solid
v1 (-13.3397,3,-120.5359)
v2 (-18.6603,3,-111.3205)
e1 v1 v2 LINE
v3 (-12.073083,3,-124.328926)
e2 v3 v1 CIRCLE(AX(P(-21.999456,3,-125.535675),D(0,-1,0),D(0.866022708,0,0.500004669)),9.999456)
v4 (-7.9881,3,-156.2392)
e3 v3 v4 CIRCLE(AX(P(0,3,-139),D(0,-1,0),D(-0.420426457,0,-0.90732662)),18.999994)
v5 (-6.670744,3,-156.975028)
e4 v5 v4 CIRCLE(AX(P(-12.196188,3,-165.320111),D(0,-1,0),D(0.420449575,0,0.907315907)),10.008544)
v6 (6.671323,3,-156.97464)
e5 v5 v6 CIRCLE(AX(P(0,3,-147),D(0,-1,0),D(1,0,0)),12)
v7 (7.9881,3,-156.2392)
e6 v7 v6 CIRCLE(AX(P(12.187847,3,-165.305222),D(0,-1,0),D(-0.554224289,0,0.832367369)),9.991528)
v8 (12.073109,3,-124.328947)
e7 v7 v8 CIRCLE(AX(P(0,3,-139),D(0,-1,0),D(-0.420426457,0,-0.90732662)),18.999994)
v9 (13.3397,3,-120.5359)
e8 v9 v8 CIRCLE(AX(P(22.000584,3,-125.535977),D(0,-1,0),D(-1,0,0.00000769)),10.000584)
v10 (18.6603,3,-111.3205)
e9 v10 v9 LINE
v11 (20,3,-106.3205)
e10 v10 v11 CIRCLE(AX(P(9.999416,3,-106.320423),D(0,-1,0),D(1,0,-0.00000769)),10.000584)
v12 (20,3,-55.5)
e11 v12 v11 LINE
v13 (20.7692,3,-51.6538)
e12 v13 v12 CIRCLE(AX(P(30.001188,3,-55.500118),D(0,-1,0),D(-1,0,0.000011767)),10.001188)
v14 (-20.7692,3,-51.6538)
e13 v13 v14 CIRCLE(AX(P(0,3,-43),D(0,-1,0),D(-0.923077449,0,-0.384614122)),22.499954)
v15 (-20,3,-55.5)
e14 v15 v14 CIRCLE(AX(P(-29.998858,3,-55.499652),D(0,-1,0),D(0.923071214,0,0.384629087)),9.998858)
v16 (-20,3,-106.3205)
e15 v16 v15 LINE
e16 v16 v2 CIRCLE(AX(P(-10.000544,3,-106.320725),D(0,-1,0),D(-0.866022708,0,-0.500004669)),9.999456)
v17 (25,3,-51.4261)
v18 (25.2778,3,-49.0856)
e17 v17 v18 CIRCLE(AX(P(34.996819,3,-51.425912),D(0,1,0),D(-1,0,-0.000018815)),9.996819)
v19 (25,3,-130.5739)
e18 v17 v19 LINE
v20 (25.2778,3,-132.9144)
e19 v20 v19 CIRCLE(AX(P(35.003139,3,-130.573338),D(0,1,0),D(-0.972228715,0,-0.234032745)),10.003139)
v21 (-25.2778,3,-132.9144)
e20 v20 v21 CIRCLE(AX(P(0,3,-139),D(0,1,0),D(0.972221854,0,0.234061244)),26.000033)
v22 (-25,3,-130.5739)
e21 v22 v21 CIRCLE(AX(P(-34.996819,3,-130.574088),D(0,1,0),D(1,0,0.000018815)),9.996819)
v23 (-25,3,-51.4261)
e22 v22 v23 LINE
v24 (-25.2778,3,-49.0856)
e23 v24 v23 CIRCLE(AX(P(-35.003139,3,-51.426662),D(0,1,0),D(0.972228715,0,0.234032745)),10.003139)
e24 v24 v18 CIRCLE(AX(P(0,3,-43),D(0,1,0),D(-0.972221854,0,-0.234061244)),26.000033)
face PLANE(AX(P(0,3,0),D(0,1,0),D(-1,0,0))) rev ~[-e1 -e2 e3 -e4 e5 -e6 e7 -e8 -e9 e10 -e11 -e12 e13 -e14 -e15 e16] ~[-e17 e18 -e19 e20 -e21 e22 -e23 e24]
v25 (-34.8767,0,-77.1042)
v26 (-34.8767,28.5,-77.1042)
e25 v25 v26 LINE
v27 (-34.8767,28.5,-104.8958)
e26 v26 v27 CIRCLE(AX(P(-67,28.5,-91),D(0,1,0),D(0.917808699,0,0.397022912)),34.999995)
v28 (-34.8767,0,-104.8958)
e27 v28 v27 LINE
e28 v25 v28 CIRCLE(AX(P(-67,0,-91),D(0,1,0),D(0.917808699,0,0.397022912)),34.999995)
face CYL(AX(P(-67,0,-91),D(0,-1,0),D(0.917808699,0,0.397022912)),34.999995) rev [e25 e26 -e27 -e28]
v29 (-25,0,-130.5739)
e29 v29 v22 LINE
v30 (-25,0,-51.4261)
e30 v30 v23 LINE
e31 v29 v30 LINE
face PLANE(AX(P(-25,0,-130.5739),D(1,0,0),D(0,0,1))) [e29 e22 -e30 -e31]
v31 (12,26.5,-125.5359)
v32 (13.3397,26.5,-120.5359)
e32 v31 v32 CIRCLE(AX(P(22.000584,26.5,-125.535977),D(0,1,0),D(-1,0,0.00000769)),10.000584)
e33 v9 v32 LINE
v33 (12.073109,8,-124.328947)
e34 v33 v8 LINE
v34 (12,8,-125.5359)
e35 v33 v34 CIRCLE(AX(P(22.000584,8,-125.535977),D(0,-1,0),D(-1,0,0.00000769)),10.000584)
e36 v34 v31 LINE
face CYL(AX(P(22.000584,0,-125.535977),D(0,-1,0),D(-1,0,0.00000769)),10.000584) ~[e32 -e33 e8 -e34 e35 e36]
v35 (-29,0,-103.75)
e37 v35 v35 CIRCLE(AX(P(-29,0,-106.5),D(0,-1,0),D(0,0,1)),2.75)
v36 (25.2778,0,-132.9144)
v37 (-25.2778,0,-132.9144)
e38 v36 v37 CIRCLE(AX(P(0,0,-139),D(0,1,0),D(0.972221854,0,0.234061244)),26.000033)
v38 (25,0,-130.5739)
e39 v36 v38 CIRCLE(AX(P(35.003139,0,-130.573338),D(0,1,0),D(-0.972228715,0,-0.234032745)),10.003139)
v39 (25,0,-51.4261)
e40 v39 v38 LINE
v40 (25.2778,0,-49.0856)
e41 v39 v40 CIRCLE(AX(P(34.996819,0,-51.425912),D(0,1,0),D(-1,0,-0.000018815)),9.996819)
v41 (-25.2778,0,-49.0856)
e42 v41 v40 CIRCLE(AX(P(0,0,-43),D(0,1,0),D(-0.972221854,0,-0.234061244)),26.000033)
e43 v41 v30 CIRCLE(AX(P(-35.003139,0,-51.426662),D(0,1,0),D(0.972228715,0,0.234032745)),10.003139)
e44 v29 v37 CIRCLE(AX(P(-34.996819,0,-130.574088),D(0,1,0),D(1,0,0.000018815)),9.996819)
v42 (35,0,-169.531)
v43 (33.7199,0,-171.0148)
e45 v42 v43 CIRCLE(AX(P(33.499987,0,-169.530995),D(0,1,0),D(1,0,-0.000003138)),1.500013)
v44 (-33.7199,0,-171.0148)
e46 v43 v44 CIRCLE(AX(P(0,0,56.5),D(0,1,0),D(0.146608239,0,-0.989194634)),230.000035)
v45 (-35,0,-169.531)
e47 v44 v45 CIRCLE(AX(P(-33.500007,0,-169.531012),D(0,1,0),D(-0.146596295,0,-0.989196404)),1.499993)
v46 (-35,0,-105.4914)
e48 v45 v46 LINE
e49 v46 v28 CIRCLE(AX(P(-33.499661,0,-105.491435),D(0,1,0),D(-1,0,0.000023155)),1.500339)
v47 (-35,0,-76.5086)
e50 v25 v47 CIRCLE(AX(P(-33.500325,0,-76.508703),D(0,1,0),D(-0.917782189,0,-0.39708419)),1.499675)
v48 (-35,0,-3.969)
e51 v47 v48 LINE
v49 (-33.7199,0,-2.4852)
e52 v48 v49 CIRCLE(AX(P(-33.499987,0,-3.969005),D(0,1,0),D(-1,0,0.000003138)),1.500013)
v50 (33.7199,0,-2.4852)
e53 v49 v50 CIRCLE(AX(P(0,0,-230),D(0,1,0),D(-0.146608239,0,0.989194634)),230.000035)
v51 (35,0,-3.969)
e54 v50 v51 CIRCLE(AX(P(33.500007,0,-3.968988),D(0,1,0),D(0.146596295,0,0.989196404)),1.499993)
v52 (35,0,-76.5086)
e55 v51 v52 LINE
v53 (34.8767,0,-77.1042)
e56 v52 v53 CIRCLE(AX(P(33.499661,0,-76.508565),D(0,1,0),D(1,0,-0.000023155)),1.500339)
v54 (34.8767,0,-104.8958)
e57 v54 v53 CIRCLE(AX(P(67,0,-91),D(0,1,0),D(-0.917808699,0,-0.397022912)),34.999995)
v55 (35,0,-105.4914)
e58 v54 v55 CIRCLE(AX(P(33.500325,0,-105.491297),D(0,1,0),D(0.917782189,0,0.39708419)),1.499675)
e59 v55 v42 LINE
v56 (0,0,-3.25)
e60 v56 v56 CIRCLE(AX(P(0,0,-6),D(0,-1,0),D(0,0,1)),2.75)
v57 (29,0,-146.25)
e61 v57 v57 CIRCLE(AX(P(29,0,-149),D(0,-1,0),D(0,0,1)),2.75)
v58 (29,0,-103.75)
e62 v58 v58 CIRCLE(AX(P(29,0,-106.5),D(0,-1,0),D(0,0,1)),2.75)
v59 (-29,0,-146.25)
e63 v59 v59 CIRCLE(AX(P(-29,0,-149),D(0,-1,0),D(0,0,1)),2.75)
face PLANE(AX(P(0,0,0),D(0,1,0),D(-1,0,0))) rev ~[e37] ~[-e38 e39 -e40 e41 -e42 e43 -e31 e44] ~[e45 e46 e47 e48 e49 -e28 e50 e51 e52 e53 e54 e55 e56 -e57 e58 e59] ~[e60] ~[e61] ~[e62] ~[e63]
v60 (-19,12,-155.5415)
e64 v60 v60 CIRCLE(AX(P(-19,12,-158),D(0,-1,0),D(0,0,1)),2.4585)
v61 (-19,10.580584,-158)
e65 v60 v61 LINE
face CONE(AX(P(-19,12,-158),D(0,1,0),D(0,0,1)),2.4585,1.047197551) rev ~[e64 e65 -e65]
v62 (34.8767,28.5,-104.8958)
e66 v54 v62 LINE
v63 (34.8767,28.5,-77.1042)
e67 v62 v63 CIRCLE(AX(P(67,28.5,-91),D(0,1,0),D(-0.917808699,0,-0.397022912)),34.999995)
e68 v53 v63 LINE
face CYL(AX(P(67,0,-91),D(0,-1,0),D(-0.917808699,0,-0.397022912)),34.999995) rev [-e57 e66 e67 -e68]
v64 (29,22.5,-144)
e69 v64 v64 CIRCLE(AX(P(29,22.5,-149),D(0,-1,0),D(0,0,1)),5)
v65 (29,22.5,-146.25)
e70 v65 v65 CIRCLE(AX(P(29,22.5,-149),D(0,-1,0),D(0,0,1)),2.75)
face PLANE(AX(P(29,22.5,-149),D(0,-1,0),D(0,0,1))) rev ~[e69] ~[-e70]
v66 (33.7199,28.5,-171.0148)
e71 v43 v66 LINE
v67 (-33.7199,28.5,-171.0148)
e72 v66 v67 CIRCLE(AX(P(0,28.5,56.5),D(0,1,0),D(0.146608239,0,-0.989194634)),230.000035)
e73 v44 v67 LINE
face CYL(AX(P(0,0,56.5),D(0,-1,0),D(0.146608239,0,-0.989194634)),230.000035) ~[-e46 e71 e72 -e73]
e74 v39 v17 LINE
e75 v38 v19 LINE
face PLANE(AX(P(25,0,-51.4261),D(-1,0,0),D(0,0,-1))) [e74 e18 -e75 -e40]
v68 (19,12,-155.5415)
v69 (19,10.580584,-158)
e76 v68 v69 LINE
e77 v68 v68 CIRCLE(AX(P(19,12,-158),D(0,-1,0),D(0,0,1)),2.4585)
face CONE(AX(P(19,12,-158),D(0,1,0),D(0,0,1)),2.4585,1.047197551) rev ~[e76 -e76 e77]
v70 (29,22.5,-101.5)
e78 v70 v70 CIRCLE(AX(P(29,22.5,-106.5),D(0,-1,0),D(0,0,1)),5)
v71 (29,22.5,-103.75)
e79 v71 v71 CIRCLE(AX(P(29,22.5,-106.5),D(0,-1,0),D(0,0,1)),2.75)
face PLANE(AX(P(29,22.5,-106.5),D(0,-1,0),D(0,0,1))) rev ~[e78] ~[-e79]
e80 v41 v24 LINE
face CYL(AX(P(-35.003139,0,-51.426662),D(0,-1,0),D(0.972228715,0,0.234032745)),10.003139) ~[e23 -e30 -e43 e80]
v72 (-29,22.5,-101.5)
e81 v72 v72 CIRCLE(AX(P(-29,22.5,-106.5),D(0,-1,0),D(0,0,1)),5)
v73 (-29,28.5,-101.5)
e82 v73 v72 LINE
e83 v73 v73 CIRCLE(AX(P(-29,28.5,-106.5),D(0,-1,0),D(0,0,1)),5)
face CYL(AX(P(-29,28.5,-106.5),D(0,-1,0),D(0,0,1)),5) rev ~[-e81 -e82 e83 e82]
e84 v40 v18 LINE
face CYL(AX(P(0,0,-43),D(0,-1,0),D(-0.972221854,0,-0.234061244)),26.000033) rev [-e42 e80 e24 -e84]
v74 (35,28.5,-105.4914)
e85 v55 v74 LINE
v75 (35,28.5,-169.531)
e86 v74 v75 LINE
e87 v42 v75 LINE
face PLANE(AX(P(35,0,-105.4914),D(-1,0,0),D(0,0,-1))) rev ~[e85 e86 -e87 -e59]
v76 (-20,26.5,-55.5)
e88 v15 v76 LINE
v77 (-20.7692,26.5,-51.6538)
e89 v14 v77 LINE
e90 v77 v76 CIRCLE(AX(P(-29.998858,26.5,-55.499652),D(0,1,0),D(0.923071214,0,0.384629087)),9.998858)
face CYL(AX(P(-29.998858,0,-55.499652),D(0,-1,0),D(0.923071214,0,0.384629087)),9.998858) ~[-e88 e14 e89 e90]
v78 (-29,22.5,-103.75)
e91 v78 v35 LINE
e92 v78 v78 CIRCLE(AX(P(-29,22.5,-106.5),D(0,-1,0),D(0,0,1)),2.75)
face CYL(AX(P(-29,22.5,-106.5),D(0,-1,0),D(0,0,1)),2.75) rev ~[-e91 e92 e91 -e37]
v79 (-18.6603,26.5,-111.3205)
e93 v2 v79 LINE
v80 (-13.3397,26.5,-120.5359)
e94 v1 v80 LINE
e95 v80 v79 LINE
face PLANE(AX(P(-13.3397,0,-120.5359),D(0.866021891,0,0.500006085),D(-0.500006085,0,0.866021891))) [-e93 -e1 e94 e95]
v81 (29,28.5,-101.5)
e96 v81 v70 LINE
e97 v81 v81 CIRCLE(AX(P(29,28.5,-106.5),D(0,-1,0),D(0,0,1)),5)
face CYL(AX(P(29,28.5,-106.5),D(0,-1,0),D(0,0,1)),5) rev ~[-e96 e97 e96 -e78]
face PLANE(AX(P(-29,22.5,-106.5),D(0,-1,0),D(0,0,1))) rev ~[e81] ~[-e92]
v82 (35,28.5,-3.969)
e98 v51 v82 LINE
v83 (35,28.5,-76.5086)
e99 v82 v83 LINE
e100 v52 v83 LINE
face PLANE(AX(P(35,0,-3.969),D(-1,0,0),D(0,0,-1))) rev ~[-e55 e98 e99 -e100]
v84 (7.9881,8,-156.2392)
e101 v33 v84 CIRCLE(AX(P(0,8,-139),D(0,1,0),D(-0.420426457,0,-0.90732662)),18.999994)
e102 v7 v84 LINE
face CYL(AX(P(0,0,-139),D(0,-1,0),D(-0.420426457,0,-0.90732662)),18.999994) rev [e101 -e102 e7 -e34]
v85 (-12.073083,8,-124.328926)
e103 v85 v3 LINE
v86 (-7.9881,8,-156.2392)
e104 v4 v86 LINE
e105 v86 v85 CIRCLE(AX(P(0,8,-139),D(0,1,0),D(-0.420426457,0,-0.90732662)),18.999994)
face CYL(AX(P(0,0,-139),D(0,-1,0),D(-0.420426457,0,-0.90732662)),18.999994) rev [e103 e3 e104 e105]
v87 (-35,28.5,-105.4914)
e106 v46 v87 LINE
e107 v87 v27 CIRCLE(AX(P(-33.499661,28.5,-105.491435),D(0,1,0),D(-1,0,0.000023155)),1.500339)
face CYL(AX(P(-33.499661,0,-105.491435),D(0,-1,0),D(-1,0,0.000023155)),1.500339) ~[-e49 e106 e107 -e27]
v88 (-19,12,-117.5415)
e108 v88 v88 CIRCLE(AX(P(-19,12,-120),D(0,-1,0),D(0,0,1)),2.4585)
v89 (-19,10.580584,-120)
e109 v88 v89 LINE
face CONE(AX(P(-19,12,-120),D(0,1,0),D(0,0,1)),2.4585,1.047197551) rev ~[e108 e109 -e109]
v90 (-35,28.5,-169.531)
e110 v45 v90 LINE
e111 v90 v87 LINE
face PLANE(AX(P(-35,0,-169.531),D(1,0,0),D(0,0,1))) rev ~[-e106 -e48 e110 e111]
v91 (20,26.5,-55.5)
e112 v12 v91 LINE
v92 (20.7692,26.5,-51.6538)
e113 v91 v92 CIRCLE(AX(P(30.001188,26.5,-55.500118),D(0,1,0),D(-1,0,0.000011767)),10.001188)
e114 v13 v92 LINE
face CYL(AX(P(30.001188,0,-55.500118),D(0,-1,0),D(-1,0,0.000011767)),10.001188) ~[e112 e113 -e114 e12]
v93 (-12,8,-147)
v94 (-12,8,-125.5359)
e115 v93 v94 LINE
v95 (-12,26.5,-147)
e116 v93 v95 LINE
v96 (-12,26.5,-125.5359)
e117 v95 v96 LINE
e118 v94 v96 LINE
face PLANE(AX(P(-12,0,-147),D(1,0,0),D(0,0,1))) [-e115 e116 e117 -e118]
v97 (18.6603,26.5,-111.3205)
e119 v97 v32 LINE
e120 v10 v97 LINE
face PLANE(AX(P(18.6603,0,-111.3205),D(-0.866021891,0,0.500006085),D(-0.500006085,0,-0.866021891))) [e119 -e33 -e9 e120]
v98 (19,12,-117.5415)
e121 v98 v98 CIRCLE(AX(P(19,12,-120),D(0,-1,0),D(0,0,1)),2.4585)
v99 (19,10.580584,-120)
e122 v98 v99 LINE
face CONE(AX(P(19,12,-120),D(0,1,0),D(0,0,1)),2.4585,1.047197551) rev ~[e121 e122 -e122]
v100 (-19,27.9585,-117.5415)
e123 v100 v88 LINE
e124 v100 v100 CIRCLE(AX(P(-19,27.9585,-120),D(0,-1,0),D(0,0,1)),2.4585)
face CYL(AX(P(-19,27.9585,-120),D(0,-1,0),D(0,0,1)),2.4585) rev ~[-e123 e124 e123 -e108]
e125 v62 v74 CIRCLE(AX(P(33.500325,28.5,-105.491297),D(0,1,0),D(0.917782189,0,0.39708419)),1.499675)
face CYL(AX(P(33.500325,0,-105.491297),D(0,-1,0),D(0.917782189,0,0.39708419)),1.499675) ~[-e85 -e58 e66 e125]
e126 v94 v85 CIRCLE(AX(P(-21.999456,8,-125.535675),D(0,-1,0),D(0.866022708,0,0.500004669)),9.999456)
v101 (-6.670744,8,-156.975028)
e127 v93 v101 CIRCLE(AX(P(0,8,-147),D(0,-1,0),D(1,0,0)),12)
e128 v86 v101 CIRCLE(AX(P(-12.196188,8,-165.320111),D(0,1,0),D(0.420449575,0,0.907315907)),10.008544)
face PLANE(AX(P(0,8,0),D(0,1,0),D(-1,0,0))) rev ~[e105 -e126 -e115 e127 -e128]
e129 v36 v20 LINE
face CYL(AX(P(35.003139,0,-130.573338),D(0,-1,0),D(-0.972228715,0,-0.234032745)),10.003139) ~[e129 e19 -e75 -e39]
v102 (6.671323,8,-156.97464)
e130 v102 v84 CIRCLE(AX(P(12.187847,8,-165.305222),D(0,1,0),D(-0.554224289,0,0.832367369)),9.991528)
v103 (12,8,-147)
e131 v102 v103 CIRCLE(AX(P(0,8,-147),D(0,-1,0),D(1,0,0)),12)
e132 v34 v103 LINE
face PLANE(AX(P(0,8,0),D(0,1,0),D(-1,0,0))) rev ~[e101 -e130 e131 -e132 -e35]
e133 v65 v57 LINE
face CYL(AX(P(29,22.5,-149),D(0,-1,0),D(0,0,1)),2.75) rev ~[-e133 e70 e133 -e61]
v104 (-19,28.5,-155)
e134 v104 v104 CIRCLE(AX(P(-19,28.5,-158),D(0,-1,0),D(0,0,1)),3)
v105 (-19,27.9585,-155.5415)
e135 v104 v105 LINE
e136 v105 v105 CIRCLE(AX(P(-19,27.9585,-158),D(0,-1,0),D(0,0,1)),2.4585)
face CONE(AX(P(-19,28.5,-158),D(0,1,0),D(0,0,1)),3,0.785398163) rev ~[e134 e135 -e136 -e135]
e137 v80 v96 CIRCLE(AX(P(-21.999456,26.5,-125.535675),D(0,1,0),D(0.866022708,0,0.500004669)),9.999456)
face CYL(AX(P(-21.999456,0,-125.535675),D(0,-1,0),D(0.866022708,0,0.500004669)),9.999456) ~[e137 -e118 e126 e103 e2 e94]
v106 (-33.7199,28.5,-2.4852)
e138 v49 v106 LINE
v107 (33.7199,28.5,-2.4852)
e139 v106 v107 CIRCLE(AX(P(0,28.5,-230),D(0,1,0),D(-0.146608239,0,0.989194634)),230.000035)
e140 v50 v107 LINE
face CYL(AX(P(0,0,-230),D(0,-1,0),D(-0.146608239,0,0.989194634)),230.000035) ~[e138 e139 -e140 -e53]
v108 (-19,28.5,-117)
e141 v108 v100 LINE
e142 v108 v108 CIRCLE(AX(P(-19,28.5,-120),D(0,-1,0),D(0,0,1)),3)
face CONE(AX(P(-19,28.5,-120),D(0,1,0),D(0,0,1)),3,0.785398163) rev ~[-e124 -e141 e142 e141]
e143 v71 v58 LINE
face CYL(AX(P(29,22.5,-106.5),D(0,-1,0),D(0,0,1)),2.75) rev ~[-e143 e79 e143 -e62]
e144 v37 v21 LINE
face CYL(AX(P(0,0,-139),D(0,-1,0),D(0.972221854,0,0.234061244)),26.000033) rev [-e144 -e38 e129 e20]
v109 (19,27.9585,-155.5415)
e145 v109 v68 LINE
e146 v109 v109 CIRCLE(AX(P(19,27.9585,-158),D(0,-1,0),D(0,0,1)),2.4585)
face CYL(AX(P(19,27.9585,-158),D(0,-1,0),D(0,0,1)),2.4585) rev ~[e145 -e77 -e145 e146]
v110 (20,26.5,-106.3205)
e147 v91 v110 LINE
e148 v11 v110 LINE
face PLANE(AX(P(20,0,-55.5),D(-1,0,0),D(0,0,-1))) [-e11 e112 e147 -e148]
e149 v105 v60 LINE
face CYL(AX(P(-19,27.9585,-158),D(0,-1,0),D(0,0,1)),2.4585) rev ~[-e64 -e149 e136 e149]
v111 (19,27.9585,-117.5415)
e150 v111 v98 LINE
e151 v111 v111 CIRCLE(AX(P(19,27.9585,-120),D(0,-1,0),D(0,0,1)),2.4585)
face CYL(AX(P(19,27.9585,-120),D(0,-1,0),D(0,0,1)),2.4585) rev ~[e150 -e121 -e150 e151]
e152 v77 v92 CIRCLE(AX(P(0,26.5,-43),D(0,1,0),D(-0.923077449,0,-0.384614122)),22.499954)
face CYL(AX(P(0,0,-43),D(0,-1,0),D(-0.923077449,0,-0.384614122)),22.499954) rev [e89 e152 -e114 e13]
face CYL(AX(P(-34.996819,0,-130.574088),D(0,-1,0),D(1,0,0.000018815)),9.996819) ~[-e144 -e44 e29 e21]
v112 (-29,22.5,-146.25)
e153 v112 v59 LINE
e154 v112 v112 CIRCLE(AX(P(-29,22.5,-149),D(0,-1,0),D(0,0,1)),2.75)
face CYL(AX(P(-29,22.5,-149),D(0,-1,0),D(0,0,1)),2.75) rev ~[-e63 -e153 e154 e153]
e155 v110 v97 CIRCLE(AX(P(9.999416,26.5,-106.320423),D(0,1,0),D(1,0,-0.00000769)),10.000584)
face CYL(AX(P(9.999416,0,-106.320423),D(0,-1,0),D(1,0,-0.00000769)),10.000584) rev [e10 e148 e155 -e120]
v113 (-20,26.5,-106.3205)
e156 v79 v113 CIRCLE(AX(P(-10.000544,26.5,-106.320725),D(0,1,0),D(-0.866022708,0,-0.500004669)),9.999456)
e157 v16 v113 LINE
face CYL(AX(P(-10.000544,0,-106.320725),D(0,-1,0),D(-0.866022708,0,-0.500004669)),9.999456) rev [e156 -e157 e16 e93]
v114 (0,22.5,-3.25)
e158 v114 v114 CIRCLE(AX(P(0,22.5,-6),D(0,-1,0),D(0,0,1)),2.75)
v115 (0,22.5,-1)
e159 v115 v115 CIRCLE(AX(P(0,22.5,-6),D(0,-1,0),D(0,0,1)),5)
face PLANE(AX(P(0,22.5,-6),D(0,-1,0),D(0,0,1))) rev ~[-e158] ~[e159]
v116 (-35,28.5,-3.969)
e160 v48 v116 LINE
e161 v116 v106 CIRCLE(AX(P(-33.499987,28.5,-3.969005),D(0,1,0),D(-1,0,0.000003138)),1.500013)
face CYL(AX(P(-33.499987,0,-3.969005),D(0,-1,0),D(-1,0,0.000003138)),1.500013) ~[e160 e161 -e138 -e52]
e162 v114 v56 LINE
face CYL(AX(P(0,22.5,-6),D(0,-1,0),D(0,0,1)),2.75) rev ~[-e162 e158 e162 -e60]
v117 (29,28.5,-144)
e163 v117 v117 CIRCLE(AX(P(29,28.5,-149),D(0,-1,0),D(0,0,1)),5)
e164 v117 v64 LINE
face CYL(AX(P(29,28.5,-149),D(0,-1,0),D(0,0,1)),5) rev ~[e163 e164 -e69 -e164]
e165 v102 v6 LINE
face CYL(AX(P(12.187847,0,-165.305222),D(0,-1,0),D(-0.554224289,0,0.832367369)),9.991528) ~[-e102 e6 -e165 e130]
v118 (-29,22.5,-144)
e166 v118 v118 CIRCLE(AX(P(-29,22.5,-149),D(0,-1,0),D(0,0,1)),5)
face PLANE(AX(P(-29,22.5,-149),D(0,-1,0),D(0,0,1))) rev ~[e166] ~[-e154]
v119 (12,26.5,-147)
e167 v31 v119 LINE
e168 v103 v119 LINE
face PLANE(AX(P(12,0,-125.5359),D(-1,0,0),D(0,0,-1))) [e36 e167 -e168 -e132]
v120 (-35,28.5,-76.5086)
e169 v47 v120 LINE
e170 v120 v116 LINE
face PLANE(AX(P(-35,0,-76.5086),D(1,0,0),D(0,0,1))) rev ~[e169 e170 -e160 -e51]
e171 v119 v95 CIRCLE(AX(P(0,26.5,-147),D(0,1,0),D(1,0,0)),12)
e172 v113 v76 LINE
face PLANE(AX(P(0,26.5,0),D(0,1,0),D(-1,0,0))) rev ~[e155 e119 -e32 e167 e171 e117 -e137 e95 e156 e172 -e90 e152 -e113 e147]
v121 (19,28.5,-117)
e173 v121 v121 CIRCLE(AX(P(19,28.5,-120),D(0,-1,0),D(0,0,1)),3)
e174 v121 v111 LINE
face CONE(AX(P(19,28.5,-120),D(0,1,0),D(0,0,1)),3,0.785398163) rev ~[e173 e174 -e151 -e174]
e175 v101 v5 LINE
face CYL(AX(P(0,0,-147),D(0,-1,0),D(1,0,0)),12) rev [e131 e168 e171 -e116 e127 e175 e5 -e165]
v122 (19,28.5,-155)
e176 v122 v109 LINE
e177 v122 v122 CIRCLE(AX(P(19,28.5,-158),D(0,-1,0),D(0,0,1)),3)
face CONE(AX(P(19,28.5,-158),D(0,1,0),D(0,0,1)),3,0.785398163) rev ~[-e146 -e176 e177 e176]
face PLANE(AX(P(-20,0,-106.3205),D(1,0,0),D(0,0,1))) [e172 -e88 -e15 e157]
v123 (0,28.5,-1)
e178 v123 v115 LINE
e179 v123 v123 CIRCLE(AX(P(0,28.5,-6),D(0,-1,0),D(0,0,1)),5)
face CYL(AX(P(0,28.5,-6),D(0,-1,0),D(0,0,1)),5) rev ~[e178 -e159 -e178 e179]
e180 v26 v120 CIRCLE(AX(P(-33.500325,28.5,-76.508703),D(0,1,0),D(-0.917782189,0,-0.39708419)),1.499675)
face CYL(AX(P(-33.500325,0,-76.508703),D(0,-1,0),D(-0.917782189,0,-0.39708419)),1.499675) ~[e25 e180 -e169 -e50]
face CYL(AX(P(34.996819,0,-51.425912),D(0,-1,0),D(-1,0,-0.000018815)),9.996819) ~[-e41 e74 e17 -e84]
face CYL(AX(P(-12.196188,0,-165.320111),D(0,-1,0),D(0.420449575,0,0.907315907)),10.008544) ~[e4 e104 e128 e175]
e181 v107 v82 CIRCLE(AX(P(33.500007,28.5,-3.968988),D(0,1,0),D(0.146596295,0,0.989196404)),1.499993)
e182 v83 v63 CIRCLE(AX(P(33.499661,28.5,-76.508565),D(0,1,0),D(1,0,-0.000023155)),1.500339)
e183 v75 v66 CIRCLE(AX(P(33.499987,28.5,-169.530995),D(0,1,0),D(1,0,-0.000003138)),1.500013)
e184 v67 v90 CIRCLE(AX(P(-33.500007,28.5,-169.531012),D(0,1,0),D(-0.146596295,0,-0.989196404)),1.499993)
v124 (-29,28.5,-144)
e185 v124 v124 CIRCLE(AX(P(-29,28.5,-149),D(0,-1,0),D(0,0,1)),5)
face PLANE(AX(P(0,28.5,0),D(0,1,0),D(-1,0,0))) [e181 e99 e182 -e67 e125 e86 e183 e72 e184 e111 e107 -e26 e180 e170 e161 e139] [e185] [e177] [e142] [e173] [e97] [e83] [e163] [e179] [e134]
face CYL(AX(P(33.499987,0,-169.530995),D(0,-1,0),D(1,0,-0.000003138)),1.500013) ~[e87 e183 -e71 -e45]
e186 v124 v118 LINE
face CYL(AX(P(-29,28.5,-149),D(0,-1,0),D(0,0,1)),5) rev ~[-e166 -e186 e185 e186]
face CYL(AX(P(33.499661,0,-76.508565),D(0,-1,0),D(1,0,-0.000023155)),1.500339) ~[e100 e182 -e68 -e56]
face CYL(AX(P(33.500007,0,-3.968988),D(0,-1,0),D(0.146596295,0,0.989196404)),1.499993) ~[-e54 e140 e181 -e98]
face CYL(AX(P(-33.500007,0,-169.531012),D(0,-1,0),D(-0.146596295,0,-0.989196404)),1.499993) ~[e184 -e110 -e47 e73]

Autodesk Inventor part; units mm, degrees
sketch "Sketch_1" plane through (0, 0, 0) normal (0, 1, 0) x (-1, 0, 0)
  line L0 (35, -76.5086) -> (35, -3.969)
  arc A0 (35, -3.969) -> (33.7199, -2.4852) centre (33.5, -3.969) ccw
  arc A1 (33.7199, -2.4852) -> (-33.7199, -2.4852) centre (0, -230) ccw
  arc A2 (-33.7199, -2.4852) -> (-35, -3.969) centre (-33.5, -3.969) ccw
  line L1 (-35, -3.969) -> (-35, -76.5086)
  arc A3 (-35, -76.5086) -> (-34.8767, -77.1042) centre (-33.5, -76.5086) ccw
  arc A4 (-34.8767, -104.8958) -> (-34.8767, -77.1042) centre (-67, -91) ccw
  arc A5 (-34.8767, -104.8958) -> (-35, -105.4914) centre (-33.5, -105.4914) ccw
  line L2 (-35, -105.4914) -> (-35, -169.531)
  arc A6 (-35, -169.531) -> (-33.7199, -171.0148) centre (-33.5, -169.531) ccw
  arc A7 (-33.7199, -171.0148) -> (33.7199, -171.0148) centre (0, 56.5) ccw
  arc A8 (33.7199, -171.0148) -> (35, -169.531) centre (33.5, -169.531) ccw
  line L3 (35, -169.531) -> (35, -105.4914)
  arc A9 (35, -105.4914) -> (34.8767, -104.8958) centre (33.5, -105.4914) ccw
  arc A10 (34.8767, -77.1042) -> (34.8767, -104.8958) centre (67, -91) ccw
  arc A11 (34.8767, -77.1042) -> (35, -76.5086) centre (33.5, -76.5086) ccw
extrude "Extrusion1" add sketch "Sketch_1" along normal blind 28.5
sketch "Sketch_2" plane through (0, 0, 0) normal (0, 1, 0) x (-1, 0, 0)
  arc A0 (20.7692, -51.6538) -> (-20.7692, -51.6538) centre (0, -43) ccw
  arc A1 (-20, -55.5) -> (-20.7692, -51.6538) centre (-30, -55.5) ccw
  line L0 (-20, -55.5) -> (-20, -106.3205)
  arc A2 (-20, -106.3205) -> (-18.6603, -111.3205) centre (-10, -106.3205) ccw
  line L1 (-18.6603, -111.3205) -> (-13.3397, -120.5359)
  arc A3 (-12, -125.5359) -> (-13.3397, -120.5359) centre (-22, -125.5359) ccw
  line L2 (-12, -125.5359) -> (-12, -147)
  arc A4 (-12, -147) -> (12, -147) centre (0, -147) ccw
  line L3 (12, -147) -> (12, -125.5359)
  arc A5 (13.3397, -120.5359) -> (12, -125.5359) centre (22, -125.5359) ccw
  line L4 (13.3397, -120.5359) -> (18.6603, -111.3205)
  arc A6 (18.6603, -111.3205) -> (20, -106.3205) centre (10, -106.3205) ccw
  line L5 (20, -106.3205) -> (20, -55.5)
  arc A7 (20.7692, -51.6538) -> (20, -55.5) centre (30, -55.5) ccw
extrude "Extrusion2" cut sketch "Sketch_2" along normal blind 26.5
sketch "Sketch_21" plane through (0, 0, 0) normal (0, 1, 0) x (-1, 0, 0)
  arc A0 (7.9881, -156.2392) -> (-7.9881, -156.2392) centre (0, -139) ccw
  arc A1 (-6.6503, -156.9886) -> (-7.9881, -156.2392) centre (-12.1923, -165.3125) ccw
  arc A2 (-6.6503, -156.9886) -> (6.6503, -156.9886) centre (0, -147) ccw
  arc A3 (7.9881, -156.2392) -> (6.6503, -156.9886) centre (12.1923, -165.3125) ccw
extrude "Extrusion3" cut sketch "Sketch_21" along normal blind 8
sketch "Sketch_3" plane through (0, 0, 0) normal (0, 1, 0) x (-1, 0, 0)
  arc A0 (25.2778, -49.0856) -> (-25.2778, -49.0856) centre (0, -43) ccw
  arc A1 (-25, -51.4261) -> (-25.2778, -49.0856) centre (-35, -51.4261) ccw
  line L0 (-25, -51.4261) -> (-25, -130.5739)
  arc A2 (-25.2778, -132.9144) -> (-25, -130.5739) centre (-35, -130.5739) ccw
  arc A3 (-25.2778, -132.9144) -> (25.2778, -132.9144) centre (0, -139) ccw
  arc A4 (25, -130.5739) -> (25.2778, -132.9144) centre (35, -130.5739) ccw
  line L1 (25, -130.5739) -> (25, -51.4261)
  arc A5 (25.2778, -49.0856) -> (25, -51.4261) centre (35, -51.4261) ccw
extrude "Extrusion4" cut sketch "Sketch_3" along normal blind 3
sketch "Sketch5" plane through (0, 28.5, 0) normal (0, 1, 0) x (1, 0, 0)
  point P0 (0, 6)
hole "Hole1" at (0, 28.5, -6) direction (0, -1, 0) diameter 5.5 depth 28.5 counterbore diameter 10 counterbore depth 6
sketch "Sketch6" plane through (0, 28.5, 0) normal (0, 1, 0) x (1, 0, 0)
  point P0 (29, 106.5)
hole "Hole2" at (29, 28.5, -106.5) direction (0, -1, 0) diameter 5.5 depth 28.5 counterbore diameter 10 counterbore depth 6
sketch "Sketch7" plane through (0, 28.5, 0) normal (0, 1, 0) x (1, 0, 0)
  point P0 (29, 149)
hole "Hole3" at (29, 28.5, -149) direction (0, -1, 0) diameter 5.5 depth 28.5 counterbore diameter 10 counterbore depth 6
sketch "Sketch8" plane through (0, 28.5, 0) normal (0, 1, 0) x (1, 0, 0)
  point P0 (-29, 106.5)
hole "Hole4" at (-29, 28.5, -106.5) direction (0, -1, 0) diameter 5.5 depth 28.5 counterbore diameter 10 counterbore depth 6
sketch "Sketch9" plane through (0, 28.5, 0) normal (0, 1, 0) x (1, 0, 0)
  point P0 (-29, 149)
hole "Hole5" at (-29, 28.5, -149) direction (0, -1, 0) diameter 5.5 depth 28.5 counterbore diameter 10 counterbore depth 6
sketch "Sketch10" plane through (0, 28.5, 0) normal (0, 1, 0) x (1, 0, 0)
  point P0 (19, 158)
hole "Hole6" at (19, 28.5, -158) direction (0, -1, 0) diameter 4.917 depth 16.5 tip angle 120 countersink diameter 6 countersink angle 90 thread size "M6x1" class "6H" standard "ISO Metric profile"
sketch "Sketch11" plane through (0, 28.5, 0) normal (0, 1, 0) x (1, 0, 0)
  point P0 (-19, 158)
hole "Hole7" at (-19, 28.5, -158) direction (0, -1, 0) diameter 4.917 depth 16.5 tip angle 120 countersink diameter 6 countersink angle 90 thread size "M6x1" class "6H" standard "ISO Metric profile"
sketch "Sketch12" plane through (0, 28.5, 0) normal (0, 1, 0) x (1, 0, 0)
  point P0 (19, 120)
hole "Hole8" at (19, 28.5, -120) direction (0, -1, 0) diameter 4.917 depth 16.5 tip angle 120 countersink diameter 6 countersink angle 90 thread size "M6x1" class "6H" standard "ISO Metric profile"
sketch "Sketch13" plane through (0, 28.5, 0) normal (0, 1, 0) x (1, 0, 0)
  point P0 (-19, 120)
hole "Hole9" at (-19, 28.5, -120) direction (0, -1, 0) diameter 4.917 depth 16.5 tip angle 120 countersink diameter 6 countersink angle 90 thread size "M6x1" class "6H" standard "ISO Metric profile"
ref_plane "ANBAU_XY" through (0, 0, -139) normal (0, 1, 0) x (1, 0, 0)
ref_plane "ANBAU_YZ" through (0, 0, -139) normal (1, 0, 0) x (0, 0, -1)
ref_plane "ANBAU_ZX" through (0, 0, -139) normal (0, 0, -1) x (0, 1, 0)
ref_plane "S1_1_XY" through (29, 22.5, -149) normal (0, 1, 0) x (1, 0, 0)
ref_plane "S1_1_YZ" through (29, 22.5, -149) normal (1, 0, 0) x (0, 0, -1)
ref_plane "S1_1_ZX" through (29, 22.5, -149) normal (0, 0, -1) x (0, 1, 0)
ref_plane "S1_2_XY" through (29, 22.5, -106.5) normal (0, 1, 0) x (1, 0, 0)
ref_plane "S1_2_YZ" through (29, 22.5, -106.5) normal (1, 0, 0) x (0, 0, -1)
ref_plane "S1_2_ZX" through (29, 22.5, -106.5) normal (0, 0, -1) x (0, 1, 0)
ref_plane "S2_1_XY" through (-29, 22.5, -149) normal (0, 1, 0) x (1, 0, 0)
ref_plane "S2_1_YZ" through (-29, 22.5, -149) normal (1, 0, 0) x (0, 0, -1)
ref_plane "S2_1_ZX" through (-29, 22.5, -149) normal (0, 0, -1) x (0, 1, 0)
ref_plane "S2_2_XY" through (-29, 22.5, -106.5) normal (0, 1, 0) x (1, 0, 0)
ref_plane "S2_2_YZ" through (-29, 22.5, -106.5) normal (1, 0, 0) x (0, 0, -1)
ref_plane "S2_2_ZX" through (-29, 22.5, -106.5) normal (0, 0, -1) x (0, 1, 0)
ref_plane "S3_XY" through (0, 22.5, -6) normal (0, 1, 0) x (1, 0, 0)
ref_plane "S3_YZ" through (0, 22.5, -6) normal (1, 0, 0) x (0, 0, -1)
ref_plane "S3_ZX" through (0, 22.5, -6) normal (0, 0, -1) x (0, 1, 0)
properties part number "2610112 EAMM-U-70-D40-...-173---(OT)"
